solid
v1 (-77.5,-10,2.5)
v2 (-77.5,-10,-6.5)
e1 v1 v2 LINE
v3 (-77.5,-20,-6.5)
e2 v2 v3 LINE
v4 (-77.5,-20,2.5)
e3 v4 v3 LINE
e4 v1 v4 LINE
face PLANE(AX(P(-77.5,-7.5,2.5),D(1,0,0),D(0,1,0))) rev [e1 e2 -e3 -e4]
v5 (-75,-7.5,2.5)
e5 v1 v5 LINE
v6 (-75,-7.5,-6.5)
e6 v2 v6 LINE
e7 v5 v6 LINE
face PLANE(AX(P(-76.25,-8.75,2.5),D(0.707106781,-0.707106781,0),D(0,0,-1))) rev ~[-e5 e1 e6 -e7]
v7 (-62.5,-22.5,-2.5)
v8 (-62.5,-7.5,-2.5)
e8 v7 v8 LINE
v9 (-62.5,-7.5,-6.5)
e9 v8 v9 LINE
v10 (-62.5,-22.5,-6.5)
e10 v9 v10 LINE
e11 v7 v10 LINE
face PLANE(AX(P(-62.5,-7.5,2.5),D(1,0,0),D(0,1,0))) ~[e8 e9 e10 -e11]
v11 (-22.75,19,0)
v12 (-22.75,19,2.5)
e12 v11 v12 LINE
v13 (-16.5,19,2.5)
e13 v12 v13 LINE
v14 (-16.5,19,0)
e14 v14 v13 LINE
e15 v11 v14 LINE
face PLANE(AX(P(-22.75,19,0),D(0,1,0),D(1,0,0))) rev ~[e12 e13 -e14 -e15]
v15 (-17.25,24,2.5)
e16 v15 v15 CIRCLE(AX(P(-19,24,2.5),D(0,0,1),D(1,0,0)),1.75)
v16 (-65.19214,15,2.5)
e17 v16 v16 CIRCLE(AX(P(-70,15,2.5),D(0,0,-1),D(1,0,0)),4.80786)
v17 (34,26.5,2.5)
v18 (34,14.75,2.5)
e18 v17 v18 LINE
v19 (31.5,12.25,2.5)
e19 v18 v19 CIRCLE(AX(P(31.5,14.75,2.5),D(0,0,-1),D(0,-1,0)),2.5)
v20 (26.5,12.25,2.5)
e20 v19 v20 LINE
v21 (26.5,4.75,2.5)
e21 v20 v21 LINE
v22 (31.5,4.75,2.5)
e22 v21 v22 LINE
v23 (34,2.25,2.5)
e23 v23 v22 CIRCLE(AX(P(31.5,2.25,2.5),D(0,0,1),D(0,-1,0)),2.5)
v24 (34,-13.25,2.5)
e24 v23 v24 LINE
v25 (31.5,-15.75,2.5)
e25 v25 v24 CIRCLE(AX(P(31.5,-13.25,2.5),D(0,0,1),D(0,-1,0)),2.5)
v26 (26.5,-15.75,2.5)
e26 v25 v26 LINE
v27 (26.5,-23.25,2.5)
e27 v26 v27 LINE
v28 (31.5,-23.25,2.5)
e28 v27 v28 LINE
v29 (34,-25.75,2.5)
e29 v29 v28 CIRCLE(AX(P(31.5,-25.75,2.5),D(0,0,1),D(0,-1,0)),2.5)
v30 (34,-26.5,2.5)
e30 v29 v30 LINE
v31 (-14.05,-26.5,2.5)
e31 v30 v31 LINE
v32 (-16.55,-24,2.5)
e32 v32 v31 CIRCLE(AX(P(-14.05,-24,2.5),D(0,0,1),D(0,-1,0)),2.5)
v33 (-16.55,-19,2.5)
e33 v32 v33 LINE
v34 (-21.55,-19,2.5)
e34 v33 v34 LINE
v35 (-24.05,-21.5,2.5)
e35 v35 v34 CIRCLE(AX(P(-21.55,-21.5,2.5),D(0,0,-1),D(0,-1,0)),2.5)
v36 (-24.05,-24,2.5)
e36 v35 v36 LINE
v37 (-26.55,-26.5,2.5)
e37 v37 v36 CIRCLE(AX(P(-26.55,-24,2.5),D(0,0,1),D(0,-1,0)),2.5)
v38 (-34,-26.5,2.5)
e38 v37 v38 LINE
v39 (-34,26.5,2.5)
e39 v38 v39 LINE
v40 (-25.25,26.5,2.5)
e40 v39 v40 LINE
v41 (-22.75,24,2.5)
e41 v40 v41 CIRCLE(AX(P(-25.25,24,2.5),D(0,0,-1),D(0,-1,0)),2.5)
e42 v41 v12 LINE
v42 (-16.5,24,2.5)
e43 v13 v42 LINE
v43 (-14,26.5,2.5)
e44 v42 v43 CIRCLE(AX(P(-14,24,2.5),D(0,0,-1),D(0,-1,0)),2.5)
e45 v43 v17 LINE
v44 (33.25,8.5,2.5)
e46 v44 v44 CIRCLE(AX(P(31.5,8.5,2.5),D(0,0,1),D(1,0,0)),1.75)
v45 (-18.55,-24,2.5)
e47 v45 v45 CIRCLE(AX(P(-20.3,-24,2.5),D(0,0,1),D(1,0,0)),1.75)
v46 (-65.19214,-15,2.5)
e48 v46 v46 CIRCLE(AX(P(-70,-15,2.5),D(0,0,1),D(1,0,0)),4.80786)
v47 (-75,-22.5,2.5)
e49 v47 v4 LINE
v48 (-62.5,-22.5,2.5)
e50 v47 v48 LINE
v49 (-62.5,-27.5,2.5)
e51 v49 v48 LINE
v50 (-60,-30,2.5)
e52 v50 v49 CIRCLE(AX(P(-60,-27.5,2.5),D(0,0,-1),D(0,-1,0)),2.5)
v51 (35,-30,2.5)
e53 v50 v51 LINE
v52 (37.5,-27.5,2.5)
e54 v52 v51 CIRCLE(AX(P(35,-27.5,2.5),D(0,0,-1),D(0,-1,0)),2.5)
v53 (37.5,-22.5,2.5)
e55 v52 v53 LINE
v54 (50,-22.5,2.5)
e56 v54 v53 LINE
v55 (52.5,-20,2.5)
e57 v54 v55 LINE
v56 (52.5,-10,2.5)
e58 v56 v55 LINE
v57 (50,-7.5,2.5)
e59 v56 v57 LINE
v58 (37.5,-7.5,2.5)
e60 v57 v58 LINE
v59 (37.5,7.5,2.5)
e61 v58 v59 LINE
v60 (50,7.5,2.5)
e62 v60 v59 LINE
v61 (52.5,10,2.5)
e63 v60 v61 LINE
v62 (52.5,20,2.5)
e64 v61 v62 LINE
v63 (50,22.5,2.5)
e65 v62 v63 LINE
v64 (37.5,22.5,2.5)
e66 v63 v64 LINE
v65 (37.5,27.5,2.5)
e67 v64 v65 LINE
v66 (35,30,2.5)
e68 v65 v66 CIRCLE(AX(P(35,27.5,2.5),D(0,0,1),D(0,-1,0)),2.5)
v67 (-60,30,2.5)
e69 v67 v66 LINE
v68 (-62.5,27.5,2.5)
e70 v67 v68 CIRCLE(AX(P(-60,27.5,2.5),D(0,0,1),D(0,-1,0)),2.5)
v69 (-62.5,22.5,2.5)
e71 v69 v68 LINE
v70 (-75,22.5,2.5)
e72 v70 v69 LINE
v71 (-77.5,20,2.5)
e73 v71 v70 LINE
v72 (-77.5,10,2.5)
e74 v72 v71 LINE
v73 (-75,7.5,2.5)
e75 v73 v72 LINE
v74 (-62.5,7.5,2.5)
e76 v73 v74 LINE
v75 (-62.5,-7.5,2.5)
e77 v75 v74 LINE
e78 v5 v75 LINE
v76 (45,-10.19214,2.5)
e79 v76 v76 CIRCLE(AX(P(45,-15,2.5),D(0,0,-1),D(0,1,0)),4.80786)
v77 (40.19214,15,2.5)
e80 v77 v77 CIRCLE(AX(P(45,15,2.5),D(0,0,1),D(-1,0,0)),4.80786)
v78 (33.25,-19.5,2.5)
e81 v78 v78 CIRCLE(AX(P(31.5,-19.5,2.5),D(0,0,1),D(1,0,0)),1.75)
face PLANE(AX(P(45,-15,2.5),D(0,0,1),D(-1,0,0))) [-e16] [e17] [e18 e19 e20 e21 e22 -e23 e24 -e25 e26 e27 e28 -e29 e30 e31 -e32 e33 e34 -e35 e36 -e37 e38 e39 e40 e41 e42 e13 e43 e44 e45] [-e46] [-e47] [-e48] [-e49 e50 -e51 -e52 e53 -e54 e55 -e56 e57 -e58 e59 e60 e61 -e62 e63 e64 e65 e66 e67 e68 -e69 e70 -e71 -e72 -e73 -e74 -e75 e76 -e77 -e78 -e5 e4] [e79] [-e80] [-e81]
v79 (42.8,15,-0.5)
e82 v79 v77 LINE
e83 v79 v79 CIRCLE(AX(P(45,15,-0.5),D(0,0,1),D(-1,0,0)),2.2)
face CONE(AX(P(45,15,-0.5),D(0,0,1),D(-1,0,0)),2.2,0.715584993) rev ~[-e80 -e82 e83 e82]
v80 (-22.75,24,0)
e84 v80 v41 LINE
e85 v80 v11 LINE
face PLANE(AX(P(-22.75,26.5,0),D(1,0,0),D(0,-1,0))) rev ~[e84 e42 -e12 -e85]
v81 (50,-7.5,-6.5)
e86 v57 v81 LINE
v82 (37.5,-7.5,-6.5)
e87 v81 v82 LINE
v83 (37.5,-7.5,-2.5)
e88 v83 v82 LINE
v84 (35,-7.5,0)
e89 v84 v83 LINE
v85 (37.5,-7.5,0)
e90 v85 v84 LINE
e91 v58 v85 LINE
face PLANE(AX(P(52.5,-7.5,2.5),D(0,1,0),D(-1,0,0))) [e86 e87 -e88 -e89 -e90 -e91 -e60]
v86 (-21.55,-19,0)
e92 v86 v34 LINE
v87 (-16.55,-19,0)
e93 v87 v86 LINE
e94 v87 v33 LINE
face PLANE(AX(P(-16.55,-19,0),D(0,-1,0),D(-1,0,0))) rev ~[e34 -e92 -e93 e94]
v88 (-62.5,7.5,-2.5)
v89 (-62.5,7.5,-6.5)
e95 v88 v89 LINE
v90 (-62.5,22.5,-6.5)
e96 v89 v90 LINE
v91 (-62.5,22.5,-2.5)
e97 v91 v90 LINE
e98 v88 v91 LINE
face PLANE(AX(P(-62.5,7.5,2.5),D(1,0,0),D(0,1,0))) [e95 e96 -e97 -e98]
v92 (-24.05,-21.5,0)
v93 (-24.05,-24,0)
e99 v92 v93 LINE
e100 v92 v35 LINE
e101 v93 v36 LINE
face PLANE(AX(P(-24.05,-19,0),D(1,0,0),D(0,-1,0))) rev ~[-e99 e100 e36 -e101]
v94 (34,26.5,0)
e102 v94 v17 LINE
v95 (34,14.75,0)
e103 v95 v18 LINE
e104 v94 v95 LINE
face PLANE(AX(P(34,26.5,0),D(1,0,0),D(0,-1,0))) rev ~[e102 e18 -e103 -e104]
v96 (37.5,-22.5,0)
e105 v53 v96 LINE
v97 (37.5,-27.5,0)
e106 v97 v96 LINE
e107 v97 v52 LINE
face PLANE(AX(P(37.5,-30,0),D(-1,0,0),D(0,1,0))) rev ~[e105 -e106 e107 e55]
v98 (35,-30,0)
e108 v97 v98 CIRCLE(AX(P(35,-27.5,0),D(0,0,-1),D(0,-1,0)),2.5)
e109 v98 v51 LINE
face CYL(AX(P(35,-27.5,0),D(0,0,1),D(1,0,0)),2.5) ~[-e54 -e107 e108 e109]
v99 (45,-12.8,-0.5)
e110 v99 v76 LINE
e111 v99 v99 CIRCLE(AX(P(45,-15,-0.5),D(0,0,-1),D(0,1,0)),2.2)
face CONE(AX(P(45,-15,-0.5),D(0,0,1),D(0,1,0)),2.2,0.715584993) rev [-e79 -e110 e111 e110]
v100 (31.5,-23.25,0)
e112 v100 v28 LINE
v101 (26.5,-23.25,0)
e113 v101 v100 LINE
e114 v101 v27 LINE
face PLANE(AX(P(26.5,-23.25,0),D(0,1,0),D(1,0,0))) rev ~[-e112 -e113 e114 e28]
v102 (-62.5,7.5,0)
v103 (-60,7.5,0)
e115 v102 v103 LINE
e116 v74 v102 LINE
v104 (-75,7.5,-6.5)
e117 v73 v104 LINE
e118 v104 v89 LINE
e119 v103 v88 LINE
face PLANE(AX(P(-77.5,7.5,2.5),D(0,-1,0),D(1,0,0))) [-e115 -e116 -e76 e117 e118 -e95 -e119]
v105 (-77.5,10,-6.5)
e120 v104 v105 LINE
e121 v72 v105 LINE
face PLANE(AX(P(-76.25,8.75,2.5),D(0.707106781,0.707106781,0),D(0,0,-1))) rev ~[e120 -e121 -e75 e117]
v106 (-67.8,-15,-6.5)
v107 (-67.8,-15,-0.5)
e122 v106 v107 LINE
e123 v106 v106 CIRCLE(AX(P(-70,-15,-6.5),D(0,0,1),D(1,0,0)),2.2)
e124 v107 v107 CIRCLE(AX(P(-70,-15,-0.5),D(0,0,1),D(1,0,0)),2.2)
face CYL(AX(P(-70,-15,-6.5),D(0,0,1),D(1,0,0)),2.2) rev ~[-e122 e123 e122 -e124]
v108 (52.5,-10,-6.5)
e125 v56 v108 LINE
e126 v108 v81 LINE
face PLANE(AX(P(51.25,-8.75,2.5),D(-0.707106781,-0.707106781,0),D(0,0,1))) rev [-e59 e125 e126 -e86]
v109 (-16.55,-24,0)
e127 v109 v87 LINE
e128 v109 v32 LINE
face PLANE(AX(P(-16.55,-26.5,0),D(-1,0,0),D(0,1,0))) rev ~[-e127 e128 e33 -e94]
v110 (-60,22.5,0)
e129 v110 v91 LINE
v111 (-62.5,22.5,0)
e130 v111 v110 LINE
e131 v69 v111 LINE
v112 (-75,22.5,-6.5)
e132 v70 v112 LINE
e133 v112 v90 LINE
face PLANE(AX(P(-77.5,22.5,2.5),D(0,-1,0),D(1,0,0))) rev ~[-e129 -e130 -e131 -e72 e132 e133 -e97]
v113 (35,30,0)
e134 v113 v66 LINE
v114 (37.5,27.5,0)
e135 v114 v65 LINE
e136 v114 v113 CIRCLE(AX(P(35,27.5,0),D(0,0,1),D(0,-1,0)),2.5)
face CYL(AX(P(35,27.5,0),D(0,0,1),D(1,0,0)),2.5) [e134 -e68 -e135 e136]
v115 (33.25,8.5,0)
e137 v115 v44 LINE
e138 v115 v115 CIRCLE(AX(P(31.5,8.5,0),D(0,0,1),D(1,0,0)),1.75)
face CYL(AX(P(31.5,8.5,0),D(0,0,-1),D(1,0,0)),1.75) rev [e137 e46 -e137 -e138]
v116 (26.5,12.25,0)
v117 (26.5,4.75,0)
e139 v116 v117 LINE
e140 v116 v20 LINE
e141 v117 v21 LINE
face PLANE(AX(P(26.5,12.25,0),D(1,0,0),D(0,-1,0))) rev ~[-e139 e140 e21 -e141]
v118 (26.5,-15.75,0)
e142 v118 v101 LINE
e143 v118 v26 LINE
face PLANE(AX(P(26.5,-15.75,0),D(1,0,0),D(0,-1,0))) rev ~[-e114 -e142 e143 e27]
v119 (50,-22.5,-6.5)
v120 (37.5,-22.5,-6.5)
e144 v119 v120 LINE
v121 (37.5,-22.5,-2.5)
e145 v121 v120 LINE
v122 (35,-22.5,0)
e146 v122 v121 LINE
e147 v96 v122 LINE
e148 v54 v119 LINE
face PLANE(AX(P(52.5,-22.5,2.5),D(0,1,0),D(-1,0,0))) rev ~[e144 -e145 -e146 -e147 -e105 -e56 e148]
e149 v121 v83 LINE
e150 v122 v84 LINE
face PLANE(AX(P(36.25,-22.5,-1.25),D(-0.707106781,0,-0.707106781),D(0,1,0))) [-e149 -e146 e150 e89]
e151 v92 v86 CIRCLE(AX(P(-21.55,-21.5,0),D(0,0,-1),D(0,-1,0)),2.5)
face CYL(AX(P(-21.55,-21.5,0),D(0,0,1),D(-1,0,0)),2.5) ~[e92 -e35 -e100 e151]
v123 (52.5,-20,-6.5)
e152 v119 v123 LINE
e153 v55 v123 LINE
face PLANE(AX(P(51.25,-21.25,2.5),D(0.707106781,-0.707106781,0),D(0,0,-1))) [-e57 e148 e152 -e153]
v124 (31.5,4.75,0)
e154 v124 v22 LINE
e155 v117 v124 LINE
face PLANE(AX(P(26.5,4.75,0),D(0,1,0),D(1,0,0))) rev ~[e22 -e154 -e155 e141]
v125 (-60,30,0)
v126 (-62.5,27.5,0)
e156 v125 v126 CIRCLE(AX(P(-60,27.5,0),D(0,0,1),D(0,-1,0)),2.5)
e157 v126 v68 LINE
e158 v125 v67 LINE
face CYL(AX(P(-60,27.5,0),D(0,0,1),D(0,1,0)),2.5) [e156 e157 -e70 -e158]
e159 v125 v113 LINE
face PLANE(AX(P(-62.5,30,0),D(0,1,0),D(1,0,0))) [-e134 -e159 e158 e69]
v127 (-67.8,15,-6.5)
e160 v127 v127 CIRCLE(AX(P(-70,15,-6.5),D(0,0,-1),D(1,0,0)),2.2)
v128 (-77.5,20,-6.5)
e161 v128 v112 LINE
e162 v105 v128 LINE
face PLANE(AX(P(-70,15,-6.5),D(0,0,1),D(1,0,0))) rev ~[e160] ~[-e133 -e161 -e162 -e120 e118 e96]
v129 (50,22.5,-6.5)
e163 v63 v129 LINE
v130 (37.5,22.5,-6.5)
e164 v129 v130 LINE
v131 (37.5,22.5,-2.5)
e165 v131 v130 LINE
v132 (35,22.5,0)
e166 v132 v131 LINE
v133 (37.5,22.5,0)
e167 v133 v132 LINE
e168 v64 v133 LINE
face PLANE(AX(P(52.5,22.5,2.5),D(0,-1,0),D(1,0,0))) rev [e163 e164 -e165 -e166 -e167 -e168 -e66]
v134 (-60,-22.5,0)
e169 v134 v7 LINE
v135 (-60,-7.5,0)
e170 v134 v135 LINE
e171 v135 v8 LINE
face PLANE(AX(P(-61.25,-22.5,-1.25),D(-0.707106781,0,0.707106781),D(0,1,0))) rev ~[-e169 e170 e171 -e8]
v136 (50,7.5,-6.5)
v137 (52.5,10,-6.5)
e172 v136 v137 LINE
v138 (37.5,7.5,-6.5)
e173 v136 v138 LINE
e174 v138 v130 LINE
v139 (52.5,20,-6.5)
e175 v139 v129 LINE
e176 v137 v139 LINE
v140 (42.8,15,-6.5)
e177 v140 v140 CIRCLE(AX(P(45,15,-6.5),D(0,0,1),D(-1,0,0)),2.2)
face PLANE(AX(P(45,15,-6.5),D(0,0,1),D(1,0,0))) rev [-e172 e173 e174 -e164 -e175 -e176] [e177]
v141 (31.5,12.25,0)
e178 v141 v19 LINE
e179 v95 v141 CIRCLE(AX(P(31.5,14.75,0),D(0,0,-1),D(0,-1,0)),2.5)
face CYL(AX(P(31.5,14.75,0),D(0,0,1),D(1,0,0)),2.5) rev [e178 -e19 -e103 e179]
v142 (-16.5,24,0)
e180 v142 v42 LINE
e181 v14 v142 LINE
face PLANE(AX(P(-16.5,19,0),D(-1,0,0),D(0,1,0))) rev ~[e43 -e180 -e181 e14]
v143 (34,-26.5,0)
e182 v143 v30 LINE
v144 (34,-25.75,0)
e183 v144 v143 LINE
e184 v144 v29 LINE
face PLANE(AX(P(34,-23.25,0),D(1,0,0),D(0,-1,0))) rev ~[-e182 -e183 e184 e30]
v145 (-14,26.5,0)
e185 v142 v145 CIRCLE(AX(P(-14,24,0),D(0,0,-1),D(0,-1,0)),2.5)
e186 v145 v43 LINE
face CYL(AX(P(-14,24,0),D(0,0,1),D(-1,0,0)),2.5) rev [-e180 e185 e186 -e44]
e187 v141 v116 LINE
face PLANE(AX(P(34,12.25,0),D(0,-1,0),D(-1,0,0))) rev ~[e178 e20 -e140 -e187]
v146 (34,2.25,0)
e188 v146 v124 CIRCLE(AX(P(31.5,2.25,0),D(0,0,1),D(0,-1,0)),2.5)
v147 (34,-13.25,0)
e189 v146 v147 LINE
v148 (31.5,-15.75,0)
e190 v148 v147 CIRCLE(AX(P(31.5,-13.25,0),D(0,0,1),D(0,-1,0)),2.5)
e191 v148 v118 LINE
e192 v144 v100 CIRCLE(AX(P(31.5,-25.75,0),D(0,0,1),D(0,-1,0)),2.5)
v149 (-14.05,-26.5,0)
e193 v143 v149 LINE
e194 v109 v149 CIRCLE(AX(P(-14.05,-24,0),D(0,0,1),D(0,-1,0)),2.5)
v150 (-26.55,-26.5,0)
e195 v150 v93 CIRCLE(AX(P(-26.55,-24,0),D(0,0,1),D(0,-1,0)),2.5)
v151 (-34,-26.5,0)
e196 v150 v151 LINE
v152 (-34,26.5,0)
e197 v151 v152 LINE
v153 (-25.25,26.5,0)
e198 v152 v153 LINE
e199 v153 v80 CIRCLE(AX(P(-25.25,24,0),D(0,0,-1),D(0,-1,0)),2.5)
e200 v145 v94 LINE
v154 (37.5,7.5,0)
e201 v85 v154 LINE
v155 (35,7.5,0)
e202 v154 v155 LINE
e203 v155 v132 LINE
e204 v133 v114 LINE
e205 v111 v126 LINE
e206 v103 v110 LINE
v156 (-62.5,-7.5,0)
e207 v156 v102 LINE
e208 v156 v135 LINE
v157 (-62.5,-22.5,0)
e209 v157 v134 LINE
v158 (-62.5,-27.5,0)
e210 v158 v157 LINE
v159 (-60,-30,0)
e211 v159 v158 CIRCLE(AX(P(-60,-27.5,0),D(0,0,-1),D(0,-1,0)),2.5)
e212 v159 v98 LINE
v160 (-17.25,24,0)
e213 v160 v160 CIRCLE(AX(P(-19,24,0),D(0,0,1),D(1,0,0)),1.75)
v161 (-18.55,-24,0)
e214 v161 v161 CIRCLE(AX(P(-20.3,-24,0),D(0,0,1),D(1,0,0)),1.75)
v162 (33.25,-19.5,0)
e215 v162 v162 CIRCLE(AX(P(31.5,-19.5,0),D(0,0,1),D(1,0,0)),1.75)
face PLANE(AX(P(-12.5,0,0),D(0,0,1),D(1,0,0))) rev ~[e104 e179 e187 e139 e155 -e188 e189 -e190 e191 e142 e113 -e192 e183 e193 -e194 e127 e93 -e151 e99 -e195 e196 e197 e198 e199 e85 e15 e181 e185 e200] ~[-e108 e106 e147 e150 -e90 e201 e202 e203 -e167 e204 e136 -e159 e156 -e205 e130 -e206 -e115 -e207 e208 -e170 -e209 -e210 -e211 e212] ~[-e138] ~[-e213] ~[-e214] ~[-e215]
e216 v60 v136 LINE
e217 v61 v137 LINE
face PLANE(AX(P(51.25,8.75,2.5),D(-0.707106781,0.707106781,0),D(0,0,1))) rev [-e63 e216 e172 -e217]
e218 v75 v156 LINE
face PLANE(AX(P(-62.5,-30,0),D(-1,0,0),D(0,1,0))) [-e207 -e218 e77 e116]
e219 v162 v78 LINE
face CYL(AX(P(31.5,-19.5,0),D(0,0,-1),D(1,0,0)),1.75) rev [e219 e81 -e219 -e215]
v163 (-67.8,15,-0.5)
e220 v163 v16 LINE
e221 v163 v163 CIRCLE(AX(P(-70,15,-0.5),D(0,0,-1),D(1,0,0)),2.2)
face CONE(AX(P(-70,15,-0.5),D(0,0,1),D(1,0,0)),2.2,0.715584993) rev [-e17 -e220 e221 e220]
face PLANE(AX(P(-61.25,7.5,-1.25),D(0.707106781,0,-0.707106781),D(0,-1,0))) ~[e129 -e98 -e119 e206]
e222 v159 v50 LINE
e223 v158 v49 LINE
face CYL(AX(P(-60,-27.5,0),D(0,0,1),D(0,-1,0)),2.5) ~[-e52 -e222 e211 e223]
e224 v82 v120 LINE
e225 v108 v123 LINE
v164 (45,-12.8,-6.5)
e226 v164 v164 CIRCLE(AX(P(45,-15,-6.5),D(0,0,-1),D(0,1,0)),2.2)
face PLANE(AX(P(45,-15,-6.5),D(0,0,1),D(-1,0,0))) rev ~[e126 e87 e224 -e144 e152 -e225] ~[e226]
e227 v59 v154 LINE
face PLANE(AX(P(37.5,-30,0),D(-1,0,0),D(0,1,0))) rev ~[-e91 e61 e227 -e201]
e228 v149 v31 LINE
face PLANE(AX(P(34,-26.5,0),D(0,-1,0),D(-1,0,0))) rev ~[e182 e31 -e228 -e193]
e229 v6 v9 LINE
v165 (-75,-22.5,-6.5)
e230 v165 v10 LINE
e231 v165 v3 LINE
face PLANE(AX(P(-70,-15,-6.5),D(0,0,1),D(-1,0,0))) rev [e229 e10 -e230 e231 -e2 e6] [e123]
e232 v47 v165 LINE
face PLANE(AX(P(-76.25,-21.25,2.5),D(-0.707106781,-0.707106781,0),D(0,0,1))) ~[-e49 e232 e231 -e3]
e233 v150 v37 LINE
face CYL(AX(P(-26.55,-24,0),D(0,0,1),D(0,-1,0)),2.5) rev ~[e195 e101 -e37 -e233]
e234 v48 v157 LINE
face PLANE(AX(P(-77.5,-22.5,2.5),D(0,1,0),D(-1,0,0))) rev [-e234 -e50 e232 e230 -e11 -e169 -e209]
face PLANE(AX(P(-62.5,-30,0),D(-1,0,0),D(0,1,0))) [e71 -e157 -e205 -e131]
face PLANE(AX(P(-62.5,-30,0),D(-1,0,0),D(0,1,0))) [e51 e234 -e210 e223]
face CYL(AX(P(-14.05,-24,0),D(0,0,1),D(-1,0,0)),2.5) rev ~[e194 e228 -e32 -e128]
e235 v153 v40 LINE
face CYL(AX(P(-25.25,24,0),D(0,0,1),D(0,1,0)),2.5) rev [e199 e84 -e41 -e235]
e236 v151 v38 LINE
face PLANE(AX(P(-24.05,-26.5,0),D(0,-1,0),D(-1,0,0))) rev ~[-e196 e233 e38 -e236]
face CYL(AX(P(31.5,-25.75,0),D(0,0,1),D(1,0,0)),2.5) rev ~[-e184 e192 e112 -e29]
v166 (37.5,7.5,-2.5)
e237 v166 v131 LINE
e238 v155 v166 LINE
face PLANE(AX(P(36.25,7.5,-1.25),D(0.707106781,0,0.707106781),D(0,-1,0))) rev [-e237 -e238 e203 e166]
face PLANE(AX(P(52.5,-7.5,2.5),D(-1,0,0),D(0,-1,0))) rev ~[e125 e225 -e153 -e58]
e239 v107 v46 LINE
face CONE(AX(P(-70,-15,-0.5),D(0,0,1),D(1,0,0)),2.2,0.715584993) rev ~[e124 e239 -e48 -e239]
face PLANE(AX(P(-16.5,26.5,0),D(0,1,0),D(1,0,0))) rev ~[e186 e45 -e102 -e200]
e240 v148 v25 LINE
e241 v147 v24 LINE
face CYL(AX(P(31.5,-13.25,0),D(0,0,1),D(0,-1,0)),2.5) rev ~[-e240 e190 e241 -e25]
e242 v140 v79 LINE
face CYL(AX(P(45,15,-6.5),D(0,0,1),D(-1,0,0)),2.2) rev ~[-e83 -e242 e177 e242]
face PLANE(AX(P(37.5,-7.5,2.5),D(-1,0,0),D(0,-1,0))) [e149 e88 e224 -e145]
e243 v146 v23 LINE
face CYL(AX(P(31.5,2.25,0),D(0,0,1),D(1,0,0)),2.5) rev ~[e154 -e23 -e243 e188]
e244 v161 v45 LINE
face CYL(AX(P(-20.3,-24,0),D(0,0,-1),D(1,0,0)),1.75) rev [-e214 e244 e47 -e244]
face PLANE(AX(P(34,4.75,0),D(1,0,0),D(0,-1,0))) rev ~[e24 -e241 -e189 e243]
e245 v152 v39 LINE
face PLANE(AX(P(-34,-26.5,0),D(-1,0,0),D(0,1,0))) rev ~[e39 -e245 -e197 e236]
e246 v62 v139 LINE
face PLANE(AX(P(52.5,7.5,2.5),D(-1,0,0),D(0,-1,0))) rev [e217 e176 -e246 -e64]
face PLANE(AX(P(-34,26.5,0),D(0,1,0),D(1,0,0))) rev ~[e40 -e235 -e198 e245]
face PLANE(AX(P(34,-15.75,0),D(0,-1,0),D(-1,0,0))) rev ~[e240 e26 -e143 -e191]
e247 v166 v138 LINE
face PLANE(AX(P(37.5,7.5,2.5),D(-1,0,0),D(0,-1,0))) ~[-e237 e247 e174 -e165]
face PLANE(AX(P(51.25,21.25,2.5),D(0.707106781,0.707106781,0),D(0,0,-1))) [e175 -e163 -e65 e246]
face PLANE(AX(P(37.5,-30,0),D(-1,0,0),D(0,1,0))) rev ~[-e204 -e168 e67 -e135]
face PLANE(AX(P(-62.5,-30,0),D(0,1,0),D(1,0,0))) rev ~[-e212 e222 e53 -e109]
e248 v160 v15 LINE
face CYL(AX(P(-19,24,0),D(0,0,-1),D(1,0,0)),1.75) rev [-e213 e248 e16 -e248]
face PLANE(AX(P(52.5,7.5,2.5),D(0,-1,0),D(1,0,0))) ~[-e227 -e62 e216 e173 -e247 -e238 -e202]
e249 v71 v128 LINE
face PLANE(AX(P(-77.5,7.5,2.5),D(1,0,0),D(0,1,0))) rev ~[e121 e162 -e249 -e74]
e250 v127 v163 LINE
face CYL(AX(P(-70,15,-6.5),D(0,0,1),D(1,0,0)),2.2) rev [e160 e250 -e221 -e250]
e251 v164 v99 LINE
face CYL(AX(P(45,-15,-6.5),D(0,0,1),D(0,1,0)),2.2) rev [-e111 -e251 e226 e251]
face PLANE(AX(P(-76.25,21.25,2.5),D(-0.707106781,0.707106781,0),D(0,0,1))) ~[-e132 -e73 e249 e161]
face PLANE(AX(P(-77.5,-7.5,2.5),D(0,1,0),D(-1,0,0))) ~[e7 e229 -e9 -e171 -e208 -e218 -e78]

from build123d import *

# Parameters (mm, degrees)
SKETCH1_W               = 100
SKETCH1_H               = 60
SKETCH1_R               = 1.75
BOSS_EXTRUDE1_DEPTH     = 2.5
SKETCH2_W               = 15
SKETCH2_H               = 15
BOSS_EXTRUDE2_DEPTH     = 9
MIRROR2_COPY_1_SKETCH_W = 15
MIRROR2_COPY_1_SKETCH_H = 15
MIRROR2_COPY_1_DEPTH    = 9
FILLET1_R               = 2.5
FILLET2_R               = 2.5
CHAMFER1_SIZE           = 2.5


with BuildPart() as part:
    # Sketch1 → Boss-Extrude1 (new body)
    with BuildSketch(Plane.XY):
        with Locations((-12.5, 0)):
            Rectangle(SKETCH1_W, SKETCH1_H)
        Polygon((-34, -26.5), (-34, 26.5), (-22.75, 26.5), (-22.75, 19), (-16.5, 19), (-16.5, 26.5), (34, 26.5), (34, 12.25), (26.5, 12.25), (26.5, 4.75), (34, 4.75), (34, -15.75), (26.5, -15.75), (26.5, -23.25), (34, -23.25), (34, -26.5), (-16.55, -26.5), (-16.55, -19), (-24.05, -19), (-24.05, -26.5), align=None, mode=Mode.SUBTRACT)
        with Locations((-19, 24)):
            Circle(SKETCH1_R, mode=Mode.SUBTRACT)
        with Locations((-20.3, -24)):
            Circle(SKETCH1_R, mode=Mode.SUBTRACT)
        with Locations((31.5, 8.5)):
            Circle(SKETCH1_R, mode=Mode.SUBTRACT)
        with Locations((31.5, -19.5)):
            Circle(SKETCH1_R, mode=Mode.SUBTRACT)
    extrude(amount=BOSS_EXTRUDE1_DEPTH)

    # Sketch2 → Boss-Extrude2 (add)
    with BuildSketch(Plane.XY.offset(2.5)):
        with Locations((-70, 15)):
            Rectangle(SKETCH2_W, SKETCH2_H)
    boss_extrude2 = extrude(amount=-BOSS_EXTRUDE2_DEPTH)

    # Sketch3 → Cut-Revolve1 (revolve, cut)
    with BuildSketch(Plane.ZY.offset(70), mode=Mode.PRIVATE) as cut_revolve1_sk:
        Polygon((2.5, 15), (-6.5, 15), (-6.5, 12.8), (-0.5, 12.8), (2.5, 10.192139787), align=None)
    cut_revolve1 = revolve(cut_revolve1_sk.sketch.rotate(Axis((-70, 15, 2.5), (0, 0, -1)), 270), axis=Axis((-70, 15, 2.5), (0, 0, -1)), mode=Mode.SUBTRACT)

    # Mirror1: Boss-Extrude2, Cut-Revolve1 across plane
    add(boss_extrude2.mirror(Plane.ZX))
    add(cut_revolve1.mirror(Plane.ZX), mode=Mode.SUBTRACT)

    # Mirror2: Boss-Extrude2, Cut-Revolve1 across plane
    add(boss_extrude2.mirror(Plane.ZY.offset(12.5)))
    add(cut_revolve1.mirror(Plane.ZY.offset(12.5)), mode=Mode.SUBTRACT)

    # Mirror2 copy 1 sketch → Mirror2 copy 1 (add)
    with BuildSketch(Plane(origin=(-25, 0, 2.5), x_dir=(-1, 0, 0), z_dir=(0, 0, 1))):
        with Locations((-70, 15)):
            Rectangle(MIRROR2_COPY_1_SKETCH_W, MIRROR2_COPY_1_SKETCH_H)
    extrude(amount=-MIRROR2_COPY_1_DEPTH)

    # Mirror2 copy 2 sketch → Mirror2 copy 2 (revolve, cut)
    with BuildSketch(Plane(origin=(45, 0, 0), x_dir=(0, 0, 1), z_dir=(1, 0, 0))):
        Polygon((2.5, 15), (-6.5, 15), (-6.5, 12.8), (-0.5, 12.8), (2.5, 10.192139787), align=None)
    revolve(axis=Axis((45, -15, 2.5), (0, 0, -1)), mode=Mode.SUBTRACT)

    # Fillet1
    fillet1_edges = [part.edges().sort_by_distance(p)[0] for p in [
        (-24.05, -26.5, 1.25),
        (-24.05, -19, 1.25),
        (-16.55, -26.5, 1.25),
        (34, -23.25, 1.25),
        (34, -15.75, 1.25),
        (34, 4.75, 1.25),
        (34, 12.25, 1.25),
        (-16.5, 26.5, 1.25),
        (-22.75, 26.5, 1.25),
    ]]
    fillet(fillet1_edges, radius=FILLET1_R)

    # Fillet2
    fillet2_edges = [part.edges().sort_by_distance(p)[0] for p in [
        (37.5, -30, 1.25),
        (-62.5, -30, 1.25),
        (-62.5, 30, 1.25),
        (37.5, 30, 1.25),
    ]]
    fillet(fillet2_edges, radius=FILLET2_R)

    # Chamfer1
    chamfer1_edges = [part.edges().sort_by_distance(p)[0] for p in [
        (-62.5, -15, 0),
        (-77.5, -22.5, -2),
        (-77.5, -7.5, -2),
        (37.5, -15, 0),
        (52.5, -7.5, -2),
        (52.5, -22.5, -2),
        (37.5, 15, 0),
        (52.5, 22.5, -2),
        (52.5, 7.5, -2),
        (-62.5, 15, 0),
        (-77.5, 7.5, -2),
        (-77.5, 22.5, -2),
    ]]
    chamfer(chamfer1_edges, length=CHAMFER1_SIZE)


solid = part.part
